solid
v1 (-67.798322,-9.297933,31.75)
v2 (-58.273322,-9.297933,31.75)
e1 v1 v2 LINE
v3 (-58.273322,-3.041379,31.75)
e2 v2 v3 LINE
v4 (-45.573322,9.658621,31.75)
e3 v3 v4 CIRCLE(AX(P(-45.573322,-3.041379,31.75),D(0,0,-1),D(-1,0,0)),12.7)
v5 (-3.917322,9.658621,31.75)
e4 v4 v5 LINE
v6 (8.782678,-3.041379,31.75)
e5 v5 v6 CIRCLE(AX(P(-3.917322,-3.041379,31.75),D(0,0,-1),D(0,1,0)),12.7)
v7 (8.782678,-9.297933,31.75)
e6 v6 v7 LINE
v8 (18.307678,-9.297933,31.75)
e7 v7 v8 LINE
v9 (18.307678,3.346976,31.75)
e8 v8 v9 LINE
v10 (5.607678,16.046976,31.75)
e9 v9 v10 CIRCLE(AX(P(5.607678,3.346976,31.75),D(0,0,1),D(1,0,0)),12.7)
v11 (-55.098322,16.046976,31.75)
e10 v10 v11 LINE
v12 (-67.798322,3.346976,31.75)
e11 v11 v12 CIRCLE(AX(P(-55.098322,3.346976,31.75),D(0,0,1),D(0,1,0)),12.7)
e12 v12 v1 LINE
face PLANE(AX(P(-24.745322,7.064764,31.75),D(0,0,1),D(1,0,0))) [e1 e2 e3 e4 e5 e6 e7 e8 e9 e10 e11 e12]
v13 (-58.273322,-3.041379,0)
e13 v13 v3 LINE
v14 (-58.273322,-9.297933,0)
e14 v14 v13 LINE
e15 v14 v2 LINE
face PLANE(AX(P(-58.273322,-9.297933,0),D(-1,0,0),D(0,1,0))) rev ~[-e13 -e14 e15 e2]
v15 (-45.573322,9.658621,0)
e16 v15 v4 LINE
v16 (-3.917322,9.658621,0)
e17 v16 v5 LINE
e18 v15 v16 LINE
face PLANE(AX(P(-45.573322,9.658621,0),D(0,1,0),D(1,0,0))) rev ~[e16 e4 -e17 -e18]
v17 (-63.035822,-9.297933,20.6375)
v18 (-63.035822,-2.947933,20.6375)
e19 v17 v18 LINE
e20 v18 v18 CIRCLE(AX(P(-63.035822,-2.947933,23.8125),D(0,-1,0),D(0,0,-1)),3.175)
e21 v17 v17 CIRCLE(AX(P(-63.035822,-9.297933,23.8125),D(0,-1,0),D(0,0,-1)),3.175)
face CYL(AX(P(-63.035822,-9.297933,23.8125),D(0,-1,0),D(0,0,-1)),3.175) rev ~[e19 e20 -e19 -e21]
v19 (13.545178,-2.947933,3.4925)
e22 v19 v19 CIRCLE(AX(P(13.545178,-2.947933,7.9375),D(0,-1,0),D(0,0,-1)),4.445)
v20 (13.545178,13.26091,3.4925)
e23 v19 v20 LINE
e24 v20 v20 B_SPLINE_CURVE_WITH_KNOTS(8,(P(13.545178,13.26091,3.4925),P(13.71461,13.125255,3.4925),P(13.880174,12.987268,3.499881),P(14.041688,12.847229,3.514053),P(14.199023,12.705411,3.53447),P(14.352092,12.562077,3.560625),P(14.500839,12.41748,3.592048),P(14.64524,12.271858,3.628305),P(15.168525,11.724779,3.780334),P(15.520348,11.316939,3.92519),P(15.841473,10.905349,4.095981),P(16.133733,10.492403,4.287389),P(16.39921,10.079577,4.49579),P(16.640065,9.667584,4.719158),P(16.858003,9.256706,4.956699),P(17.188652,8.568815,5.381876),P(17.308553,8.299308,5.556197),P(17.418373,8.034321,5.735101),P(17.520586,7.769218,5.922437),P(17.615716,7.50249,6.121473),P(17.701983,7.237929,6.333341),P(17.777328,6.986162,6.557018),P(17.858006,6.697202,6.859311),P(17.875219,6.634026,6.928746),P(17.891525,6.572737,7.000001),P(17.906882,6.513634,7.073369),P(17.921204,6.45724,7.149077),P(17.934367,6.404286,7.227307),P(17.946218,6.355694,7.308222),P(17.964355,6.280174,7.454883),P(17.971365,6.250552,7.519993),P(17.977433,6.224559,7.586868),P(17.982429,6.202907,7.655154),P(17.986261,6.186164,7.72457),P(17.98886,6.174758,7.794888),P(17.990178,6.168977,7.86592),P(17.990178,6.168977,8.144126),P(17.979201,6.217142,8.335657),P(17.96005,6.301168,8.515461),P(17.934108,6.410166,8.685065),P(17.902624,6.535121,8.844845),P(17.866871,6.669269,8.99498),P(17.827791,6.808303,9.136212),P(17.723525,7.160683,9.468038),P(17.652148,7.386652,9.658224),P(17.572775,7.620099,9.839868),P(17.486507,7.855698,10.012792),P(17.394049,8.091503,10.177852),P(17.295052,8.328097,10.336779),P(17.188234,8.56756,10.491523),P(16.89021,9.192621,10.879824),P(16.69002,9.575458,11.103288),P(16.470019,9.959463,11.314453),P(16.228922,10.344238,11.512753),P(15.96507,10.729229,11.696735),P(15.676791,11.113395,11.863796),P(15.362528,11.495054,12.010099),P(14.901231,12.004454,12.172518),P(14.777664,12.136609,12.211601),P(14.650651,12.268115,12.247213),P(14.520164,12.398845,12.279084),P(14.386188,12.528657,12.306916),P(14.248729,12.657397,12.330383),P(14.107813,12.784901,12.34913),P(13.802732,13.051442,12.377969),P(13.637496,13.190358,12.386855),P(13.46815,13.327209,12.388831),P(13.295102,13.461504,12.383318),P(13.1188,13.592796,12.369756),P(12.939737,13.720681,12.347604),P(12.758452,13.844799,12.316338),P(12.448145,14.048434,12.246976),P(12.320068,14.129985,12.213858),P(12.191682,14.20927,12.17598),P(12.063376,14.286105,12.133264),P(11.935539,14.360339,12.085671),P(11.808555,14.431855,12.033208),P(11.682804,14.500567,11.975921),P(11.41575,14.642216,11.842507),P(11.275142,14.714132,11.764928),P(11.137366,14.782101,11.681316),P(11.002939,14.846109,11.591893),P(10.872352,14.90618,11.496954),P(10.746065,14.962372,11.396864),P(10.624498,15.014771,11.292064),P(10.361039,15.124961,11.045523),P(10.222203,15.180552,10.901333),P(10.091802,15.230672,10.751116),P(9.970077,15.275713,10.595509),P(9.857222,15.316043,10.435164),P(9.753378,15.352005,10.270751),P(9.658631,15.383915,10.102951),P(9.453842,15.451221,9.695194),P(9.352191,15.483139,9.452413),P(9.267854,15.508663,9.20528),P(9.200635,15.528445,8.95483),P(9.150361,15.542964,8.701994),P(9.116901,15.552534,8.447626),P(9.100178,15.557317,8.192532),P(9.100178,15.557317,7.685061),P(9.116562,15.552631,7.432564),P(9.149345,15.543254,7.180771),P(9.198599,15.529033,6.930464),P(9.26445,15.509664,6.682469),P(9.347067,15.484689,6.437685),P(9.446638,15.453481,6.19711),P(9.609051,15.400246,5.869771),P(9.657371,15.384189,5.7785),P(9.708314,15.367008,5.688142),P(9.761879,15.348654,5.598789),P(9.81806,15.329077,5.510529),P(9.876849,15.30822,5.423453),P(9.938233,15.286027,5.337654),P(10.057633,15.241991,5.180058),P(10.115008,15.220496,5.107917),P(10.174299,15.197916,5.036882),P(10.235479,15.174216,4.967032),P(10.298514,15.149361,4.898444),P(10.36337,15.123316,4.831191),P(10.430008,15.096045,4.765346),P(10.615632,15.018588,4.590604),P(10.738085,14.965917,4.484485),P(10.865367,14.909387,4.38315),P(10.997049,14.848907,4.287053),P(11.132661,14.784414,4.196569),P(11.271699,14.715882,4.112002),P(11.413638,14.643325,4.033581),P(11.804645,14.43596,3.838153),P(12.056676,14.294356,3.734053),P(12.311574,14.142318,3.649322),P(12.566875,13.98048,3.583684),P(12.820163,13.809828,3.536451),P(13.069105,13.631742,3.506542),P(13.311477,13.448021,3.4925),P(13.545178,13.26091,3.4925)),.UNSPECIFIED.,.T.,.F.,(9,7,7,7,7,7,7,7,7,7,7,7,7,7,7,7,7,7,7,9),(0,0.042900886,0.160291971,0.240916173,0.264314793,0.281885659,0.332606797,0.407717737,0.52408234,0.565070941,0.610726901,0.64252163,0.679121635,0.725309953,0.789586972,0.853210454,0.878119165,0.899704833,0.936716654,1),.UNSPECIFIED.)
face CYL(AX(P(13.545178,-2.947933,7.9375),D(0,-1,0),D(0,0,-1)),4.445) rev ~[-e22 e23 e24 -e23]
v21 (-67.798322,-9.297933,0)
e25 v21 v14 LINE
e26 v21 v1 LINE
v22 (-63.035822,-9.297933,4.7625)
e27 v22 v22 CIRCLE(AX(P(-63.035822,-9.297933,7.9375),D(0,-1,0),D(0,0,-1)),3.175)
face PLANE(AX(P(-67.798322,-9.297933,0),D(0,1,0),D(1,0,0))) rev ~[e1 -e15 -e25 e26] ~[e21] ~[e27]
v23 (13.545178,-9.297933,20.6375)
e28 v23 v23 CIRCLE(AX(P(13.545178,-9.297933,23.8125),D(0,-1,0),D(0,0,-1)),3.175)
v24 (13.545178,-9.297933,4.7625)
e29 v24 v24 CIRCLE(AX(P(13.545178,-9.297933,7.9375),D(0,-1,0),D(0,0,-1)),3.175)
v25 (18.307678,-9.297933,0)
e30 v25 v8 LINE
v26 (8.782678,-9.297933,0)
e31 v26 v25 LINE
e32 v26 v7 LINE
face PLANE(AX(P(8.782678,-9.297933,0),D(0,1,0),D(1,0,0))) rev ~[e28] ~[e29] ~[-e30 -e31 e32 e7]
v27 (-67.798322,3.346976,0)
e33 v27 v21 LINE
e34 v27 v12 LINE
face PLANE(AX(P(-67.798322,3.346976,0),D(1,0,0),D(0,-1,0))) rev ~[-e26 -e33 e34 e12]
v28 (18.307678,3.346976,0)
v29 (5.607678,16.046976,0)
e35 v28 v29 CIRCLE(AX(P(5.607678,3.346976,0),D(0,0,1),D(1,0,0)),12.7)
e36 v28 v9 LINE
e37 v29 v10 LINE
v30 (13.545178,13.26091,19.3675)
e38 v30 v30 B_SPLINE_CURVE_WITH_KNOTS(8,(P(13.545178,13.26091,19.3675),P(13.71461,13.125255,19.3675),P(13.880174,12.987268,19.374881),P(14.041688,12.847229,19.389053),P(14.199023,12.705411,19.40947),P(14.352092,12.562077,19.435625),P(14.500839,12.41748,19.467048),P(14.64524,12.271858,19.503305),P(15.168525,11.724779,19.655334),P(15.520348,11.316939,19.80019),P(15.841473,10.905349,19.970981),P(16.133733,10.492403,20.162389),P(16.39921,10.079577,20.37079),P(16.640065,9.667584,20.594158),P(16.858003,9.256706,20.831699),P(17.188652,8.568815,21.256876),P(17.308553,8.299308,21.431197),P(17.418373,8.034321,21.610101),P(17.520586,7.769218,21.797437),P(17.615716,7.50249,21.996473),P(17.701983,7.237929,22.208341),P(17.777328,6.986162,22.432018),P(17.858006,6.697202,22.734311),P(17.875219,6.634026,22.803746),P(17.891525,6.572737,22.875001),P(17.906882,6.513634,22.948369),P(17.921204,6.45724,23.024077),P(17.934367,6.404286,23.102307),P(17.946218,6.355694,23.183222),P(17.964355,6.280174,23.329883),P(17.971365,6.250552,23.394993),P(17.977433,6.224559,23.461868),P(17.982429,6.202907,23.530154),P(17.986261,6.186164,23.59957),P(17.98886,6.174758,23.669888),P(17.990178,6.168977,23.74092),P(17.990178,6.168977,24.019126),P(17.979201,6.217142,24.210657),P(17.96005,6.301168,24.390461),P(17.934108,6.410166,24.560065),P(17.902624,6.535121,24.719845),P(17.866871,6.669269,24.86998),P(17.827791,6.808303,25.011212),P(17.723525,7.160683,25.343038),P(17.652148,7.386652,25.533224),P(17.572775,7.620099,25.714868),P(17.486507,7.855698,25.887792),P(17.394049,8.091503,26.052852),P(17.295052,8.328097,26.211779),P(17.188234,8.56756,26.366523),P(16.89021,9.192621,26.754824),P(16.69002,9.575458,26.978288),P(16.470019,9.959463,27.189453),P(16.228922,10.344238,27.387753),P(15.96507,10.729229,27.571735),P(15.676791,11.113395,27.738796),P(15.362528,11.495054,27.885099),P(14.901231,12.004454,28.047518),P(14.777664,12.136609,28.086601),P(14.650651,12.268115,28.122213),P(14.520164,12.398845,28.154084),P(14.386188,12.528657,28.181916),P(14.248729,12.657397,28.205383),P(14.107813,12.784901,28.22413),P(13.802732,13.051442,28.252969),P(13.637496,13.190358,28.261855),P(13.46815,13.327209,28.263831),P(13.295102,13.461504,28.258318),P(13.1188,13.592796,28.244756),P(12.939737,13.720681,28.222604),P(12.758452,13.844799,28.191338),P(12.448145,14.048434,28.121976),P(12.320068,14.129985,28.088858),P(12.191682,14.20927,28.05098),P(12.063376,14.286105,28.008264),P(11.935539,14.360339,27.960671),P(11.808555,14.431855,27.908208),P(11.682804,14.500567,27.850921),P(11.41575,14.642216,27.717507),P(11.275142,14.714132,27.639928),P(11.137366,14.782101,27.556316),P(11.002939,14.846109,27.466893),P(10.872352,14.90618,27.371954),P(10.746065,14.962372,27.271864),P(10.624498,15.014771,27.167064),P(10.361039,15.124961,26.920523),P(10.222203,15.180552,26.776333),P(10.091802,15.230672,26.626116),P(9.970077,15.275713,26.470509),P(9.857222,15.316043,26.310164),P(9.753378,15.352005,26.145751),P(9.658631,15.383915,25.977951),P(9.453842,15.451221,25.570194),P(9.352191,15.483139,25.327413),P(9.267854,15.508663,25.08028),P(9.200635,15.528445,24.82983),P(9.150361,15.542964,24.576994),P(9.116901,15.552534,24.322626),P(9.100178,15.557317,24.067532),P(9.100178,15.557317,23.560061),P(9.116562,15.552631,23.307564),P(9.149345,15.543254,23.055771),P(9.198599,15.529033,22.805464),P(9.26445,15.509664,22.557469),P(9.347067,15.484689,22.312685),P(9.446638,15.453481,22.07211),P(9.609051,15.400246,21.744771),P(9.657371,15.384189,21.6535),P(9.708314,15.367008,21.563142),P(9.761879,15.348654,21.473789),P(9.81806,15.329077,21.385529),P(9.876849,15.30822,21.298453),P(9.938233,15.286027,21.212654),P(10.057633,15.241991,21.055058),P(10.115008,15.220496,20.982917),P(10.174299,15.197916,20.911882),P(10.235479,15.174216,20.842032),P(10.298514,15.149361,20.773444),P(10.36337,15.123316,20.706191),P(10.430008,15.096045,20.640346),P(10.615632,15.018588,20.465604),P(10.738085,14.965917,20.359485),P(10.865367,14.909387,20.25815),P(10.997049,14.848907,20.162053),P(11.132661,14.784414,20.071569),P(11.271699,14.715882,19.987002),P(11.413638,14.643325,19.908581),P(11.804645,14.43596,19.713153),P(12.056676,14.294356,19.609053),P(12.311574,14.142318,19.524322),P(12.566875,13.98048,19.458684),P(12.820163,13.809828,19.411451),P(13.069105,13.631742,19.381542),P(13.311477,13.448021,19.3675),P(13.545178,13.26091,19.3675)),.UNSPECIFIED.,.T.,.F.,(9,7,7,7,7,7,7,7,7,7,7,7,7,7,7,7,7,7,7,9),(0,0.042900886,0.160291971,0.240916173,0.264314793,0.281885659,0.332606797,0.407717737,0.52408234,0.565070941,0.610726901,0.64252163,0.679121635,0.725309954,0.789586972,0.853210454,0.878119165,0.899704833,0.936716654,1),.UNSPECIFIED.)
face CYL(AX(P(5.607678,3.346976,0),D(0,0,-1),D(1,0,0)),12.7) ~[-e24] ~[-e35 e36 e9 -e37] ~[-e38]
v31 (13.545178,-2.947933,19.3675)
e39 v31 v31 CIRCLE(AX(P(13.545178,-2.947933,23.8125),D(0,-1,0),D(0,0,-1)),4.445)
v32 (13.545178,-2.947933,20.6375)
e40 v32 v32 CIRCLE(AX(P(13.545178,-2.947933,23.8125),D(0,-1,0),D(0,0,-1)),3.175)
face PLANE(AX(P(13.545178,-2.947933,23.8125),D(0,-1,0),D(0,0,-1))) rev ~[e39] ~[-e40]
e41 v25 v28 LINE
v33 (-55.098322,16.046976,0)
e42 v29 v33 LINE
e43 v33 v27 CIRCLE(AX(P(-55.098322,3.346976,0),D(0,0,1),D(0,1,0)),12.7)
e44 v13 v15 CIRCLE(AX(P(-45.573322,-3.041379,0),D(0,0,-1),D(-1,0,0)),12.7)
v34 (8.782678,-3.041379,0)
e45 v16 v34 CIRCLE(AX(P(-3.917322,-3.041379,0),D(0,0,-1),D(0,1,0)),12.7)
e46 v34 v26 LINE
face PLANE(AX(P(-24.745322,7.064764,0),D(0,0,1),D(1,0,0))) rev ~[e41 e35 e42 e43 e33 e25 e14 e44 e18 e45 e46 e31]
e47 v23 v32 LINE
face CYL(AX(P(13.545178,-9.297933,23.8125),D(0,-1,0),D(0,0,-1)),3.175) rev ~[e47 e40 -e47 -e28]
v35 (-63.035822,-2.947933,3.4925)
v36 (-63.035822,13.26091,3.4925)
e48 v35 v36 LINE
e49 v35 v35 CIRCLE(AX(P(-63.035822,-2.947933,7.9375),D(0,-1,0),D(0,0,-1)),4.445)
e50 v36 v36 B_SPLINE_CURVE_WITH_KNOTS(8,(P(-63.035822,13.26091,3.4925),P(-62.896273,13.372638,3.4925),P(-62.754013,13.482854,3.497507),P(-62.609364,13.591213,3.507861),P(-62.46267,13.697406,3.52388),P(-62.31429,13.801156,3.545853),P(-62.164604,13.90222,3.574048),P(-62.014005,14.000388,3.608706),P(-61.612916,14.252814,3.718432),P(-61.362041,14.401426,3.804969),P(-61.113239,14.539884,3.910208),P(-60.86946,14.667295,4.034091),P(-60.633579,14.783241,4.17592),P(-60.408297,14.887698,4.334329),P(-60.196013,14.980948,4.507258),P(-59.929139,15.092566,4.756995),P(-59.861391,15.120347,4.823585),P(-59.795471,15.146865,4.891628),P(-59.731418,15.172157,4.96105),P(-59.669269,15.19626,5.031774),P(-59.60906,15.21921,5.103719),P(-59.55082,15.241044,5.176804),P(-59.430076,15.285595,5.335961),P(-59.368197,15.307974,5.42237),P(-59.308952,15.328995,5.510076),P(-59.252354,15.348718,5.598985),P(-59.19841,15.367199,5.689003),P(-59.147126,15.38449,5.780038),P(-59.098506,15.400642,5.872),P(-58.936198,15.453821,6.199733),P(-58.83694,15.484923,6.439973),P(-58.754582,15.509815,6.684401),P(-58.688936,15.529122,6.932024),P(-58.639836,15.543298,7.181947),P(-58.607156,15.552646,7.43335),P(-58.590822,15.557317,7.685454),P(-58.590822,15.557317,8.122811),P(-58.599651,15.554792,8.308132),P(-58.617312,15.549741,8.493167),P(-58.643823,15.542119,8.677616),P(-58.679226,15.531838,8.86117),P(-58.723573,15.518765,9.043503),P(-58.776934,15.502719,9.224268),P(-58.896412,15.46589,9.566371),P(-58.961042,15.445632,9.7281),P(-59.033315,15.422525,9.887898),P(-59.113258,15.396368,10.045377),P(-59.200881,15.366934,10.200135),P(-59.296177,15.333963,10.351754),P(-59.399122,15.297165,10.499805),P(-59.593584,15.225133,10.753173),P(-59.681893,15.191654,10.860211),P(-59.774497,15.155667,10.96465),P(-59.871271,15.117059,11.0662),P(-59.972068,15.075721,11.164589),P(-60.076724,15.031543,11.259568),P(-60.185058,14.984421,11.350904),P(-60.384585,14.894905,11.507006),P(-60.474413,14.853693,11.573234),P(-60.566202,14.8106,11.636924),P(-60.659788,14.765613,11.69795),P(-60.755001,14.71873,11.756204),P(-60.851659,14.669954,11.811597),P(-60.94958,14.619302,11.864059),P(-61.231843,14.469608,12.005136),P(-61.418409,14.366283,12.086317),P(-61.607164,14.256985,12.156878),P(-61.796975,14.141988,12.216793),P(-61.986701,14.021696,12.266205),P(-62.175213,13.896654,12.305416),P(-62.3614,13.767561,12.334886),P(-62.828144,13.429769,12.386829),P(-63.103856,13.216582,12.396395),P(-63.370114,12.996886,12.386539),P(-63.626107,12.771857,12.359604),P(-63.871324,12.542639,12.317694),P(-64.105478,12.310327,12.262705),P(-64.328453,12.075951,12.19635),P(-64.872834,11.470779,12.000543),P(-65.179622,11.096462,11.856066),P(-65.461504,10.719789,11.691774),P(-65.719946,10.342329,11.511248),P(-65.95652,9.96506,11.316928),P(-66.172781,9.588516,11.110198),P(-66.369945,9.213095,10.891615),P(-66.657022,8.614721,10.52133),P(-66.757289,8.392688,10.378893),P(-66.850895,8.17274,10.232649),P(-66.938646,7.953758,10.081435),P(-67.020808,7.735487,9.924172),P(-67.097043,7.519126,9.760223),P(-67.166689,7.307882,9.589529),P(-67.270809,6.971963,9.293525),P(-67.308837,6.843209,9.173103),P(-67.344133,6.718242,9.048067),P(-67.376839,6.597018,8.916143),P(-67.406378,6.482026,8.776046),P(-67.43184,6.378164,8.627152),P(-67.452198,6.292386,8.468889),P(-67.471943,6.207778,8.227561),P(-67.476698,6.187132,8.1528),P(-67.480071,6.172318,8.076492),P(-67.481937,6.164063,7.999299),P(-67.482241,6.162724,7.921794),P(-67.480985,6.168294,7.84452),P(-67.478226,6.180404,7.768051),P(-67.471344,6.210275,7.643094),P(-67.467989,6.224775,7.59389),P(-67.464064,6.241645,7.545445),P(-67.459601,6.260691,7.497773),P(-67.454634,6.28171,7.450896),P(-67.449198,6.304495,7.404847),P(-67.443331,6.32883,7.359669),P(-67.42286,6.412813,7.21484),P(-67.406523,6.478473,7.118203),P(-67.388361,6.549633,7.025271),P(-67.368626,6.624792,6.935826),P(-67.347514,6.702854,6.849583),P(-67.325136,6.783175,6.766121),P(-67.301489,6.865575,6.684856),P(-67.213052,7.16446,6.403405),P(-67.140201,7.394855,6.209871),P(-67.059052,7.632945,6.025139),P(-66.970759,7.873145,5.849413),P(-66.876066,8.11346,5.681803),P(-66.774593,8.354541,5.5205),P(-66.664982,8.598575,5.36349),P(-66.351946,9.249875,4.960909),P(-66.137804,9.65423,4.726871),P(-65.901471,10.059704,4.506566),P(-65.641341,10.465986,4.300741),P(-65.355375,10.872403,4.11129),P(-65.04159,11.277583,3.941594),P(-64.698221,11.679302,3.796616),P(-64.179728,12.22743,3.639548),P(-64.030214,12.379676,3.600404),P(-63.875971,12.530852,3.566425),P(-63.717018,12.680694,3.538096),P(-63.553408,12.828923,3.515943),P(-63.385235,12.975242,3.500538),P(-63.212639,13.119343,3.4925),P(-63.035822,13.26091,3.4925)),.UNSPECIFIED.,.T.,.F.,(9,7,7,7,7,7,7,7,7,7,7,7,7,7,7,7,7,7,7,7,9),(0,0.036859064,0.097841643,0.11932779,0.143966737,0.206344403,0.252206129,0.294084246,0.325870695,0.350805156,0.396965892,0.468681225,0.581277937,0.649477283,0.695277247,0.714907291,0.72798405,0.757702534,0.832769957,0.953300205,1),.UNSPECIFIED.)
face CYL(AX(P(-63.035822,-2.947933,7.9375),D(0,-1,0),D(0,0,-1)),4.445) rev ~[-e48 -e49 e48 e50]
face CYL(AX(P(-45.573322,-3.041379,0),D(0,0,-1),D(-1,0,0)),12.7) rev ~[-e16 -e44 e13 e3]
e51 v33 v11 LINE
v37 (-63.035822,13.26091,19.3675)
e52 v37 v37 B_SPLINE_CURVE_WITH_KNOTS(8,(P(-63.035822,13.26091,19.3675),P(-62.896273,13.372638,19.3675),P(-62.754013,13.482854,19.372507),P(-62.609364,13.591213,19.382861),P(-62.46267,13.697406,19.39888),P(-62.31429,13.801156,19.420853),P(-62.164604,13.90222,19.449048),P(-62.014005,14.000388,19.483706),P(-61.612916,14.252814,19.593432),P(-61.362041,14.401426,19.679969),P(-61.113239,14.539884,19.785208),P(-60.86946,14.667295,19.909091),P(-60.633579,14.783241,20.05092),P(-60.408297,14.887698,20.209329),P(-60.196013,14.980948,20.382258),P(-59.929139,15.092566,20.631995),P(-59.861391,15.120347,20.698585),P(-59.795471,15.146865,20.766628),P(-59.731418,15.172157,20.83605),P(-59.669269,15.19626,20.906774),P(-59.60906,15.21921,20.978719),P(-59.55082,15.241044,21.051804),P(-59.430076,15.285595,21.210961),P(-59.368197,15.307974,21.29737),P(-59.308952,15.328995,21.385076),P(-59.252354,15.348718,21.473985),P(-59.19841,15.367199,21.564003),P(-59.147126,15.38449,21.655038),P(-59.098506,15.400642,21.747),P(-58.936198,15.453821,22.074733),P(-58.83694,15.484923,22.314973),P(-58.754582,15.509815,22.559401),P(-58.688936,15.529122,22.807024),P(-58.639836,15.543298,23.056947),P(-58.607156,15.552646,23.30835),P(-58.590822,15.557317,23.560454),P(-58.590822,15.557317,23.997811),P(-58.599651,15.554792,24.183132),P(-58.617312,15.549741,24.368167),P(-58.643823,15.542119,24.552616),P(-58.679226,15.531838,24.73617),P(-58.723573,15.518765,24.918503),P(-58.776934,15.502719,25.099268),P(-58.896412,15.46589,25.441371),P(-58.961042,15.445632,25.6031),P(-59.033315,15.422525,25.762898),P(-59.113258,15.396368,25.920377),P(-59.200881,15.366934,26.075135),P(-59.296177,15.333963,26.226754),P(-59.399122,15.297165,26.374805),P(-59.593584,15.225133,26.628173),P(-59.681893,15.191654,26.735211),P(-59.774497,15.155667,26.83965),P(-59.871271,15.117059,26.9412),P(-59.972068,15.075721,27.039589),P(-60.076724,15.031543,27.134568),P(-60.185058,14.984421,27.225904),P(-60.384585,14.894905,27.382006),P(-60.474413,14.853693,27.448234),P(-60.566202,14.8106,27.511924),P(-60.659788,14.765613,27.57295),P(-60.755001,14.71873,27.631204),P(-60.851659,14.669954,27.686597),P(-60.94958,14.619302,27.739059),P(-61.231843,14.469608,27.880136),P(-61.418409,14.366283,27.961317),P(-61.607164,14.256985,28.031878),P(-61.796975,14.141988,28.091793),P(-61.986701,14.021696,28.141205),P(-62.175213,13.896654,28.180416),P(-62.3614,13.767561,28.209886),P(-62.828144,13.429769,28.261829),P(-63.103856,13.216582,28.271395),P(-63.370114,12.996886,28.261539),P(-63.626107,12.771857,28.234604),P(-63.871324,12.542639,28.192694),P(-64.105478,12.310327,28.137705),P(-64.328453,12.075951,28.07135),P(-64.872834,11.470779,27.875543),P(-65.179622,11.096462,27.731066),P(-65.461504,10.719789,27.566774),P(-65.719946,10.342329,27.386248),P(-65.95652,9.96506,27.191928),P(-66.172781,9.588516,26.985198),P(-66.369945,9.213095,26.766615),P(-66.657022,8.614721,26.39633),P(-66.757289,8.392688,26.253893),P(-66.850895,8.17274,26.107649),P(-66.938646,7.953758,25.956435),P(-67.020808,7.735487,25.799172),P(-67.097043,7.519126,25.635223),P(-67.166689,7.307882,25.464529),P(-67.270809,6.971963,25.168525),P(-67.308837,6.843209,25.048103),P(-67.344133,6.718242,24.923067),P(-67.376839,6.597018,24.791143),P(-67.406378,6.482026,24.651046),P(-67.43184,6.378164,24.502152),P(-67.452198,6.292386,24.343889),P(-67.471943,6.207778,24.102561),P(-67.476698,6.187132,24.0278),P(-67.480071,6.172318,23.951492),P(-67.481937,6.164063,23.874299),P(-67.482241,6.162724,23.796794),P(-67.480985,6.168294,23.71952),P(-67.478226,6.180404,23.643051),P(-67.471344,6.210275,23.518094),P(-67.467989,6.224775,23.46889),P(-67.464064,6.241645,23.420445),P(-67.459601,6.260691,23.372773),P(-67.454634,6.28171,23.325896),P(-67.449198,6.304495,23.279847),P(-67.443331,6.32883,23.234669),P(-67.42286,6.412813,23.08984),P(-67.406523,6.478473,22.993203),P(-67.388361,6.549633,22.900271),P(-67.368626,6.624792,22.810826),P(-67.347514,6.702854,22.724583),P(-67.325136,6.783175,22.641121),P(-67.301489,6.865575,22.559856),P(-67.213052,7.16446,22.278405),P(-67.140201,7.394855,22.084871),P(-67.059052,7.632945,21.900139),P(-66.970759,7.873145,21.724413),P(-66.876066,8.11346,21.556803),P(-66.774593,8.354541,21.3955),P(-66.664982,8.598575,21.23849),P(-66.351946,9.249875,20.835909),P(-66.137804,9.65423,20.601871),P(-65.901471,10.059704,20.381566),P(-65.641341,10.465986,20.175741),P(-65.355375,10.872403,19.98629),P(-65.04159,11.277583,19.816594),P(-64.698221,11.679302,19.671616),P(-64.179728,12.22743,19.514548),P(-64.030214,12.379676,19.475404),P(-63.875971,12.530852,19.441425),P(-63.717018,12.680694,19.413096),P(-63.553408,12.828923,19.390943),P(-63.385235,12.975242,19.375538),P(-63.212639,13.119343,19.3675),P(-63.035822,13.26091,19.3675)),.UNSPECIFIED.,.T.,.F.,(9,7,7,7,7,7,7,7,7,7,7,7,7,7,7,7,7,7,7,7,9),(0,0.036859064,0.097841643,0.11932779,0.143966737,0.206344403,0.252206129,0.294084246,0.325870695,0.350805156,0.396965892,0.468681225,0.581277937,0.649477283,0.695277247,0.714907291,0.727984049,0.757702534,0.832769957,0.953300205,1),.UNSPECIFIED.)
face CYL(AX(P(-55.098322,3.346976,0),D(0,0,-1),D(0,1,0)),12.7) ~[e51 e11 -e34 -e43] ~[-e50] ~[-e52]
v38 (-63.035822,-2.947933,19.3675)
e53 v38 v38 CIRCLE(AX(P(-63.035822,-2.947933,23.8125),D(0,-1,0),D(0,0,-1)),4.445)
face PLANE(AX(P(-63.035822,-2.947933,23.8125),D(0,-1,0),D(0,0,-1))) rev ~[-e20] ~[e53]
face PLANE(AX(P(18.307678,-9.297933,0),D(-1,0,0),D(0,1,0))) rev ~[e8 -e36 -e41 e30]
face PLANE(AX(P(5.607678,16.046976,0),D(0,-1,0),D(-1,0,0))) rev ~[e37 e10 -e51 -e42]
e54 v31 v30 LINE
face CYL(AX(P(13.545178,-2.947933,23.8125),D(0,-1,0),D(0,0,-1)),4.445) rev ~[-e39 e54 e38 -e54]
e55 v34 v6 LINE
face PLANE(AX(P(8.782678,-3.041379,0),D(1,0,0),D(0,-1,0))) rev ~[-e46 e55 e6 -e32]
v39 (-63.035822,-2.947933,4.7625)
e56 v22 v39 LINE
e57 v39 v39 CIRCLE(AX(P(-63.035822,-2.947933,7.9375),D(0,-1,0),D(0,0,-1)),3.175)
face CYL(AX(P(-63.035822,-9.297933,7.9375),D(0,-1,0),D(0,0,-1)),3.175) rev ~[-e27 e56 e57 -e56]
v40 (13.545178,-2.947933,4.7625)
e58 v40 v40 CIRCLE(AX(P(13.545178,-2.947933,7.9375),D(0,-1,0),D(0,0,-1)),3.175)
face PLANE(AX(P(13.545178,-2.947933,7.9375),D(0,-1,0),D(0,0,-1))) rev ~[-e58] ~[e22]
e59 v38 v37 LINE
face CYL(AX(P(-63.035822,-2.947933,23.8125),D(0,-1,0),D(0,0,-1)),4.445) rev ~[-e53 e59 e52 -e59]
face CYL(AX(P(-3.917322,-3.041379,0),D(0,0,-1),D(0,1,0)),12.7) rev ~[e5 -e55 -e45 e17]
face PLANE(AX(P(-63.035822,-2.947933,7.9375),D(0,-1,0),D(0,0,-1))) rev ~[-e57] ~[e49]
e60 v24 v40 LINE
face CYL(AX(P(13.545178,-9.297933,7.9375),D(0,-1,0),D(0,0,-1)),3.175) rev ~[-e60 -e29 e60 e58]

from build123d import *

# Parameters (mm, degrees)
BOSS_EXTRUDE1_DEPTH = 31.75
SKETCH2_R           = 3.175
CUT_EXTRUDE1_DEPTH  = 37.084
SKETCH3_R           = 4.445
CUT_EXTRUDE2_DEPTH  = 37.084


with BuildPart() as part:
    # Sketch1 → Boss-Extrude1 (new body)
    with BuildSketch(Plane.XY):
        with BuildLine():
            Line((-58.273322186, -9.297932879), (-58.273322186, -3.041379021))
            ThreePointArc((-58.273322186, -3.041379021), (-54.553578308, 5.9388771), (-45.573322186, 9.658620979))
            Line((-45.573322186, 9.658620979), (-3.917322186, 9.658620979))
            ThreePointArc((-3.917322186, 9.658620979), (5.062933935, 5.9388771), (8.782677814, -3.041379021))
            Line((8.782677814, -3.041379021), (8.782677814, -9.297932879))
            Line((8.782677814, -9.297932879), (18.307677814, -9.297932879))
            Line((18.307677814, -9.297932879), (18.307677814, 3.346975696))
            ThreePointArc((18.307677814, 3.346975696), (14.587933935, 12.327231817), (5.607677814, 16.046975696))
            Line((5.607677814, 16.046975696), (-55.098322186, 16.046975696))
            ThreePointArc((-55.098322186, 16.046975696), (-64.078578308, 12.327231817), (-67.798322186, 3.346975696))
            Line((-67.798322186, 3.346975696), (-67.798322186, -9.297932879))
            Line((-67.798322186, -9.297932879), (-58.273322186, -9.297932879))
        make_face()
    extrude(amount=BOSS_EXTRUDE1_DEPTH)

    # Sketch2 → Cut-Extrude1 (cut)
    with BuildSketch(Plane.XZ.offset(9.297932879)):
        with Locations(Location((-63.035822186, 7.9375, 0), (0, 0, 270))):
            Circle(SKETCH2_R)
        with Locations(Location((-63.035822186, 23.8125, 0), (0, 0, 270))):
            Circle(SKETCH2_R)
        with Locations(Location((13.545177814, 23.8125, 0), (0, 0, 270))):
            Circle(SKETCH2_R)
        with Locations(Location((13.545177814, 7.9375, 0), (0, 0, 270))):
            Circle(SKETCH2_R)
    extrude(amount=-CUT_EXTRUDE1_DEPTH, mode=Mode.SUBTRACT)

    # Sketch3 → Cut-Extrude2 (cut)
    with BuildSketch(Plane(origin=(0, -2.947932879, 0), x_dir=(-1, 0, 0), z_dir=(0, -1, 0))):
        with Locations(Location((-13.545177814, -23.8125, 0), (0, 0, 90))):
            Circle(SKETCH3_R)
        with Locations(Location((-13.545177814, -7.9375, 0), (0, 0, 90))):
            Circle(SKETCH3_R)
        with Locations(Location((63.035822186, -23.8125, 0), (0, 0, 90))):
            Circle(SKETCH3_R)
        with Locations(Location((63.035822186, -7.9375, 0), (0, 0, 90))):
            Circle(SKETCH3_R)
    extrude(amount=-CUT_EXTRUDE2_DEPTH, mode=Mode.SUBTRACT)


solid = part.part
